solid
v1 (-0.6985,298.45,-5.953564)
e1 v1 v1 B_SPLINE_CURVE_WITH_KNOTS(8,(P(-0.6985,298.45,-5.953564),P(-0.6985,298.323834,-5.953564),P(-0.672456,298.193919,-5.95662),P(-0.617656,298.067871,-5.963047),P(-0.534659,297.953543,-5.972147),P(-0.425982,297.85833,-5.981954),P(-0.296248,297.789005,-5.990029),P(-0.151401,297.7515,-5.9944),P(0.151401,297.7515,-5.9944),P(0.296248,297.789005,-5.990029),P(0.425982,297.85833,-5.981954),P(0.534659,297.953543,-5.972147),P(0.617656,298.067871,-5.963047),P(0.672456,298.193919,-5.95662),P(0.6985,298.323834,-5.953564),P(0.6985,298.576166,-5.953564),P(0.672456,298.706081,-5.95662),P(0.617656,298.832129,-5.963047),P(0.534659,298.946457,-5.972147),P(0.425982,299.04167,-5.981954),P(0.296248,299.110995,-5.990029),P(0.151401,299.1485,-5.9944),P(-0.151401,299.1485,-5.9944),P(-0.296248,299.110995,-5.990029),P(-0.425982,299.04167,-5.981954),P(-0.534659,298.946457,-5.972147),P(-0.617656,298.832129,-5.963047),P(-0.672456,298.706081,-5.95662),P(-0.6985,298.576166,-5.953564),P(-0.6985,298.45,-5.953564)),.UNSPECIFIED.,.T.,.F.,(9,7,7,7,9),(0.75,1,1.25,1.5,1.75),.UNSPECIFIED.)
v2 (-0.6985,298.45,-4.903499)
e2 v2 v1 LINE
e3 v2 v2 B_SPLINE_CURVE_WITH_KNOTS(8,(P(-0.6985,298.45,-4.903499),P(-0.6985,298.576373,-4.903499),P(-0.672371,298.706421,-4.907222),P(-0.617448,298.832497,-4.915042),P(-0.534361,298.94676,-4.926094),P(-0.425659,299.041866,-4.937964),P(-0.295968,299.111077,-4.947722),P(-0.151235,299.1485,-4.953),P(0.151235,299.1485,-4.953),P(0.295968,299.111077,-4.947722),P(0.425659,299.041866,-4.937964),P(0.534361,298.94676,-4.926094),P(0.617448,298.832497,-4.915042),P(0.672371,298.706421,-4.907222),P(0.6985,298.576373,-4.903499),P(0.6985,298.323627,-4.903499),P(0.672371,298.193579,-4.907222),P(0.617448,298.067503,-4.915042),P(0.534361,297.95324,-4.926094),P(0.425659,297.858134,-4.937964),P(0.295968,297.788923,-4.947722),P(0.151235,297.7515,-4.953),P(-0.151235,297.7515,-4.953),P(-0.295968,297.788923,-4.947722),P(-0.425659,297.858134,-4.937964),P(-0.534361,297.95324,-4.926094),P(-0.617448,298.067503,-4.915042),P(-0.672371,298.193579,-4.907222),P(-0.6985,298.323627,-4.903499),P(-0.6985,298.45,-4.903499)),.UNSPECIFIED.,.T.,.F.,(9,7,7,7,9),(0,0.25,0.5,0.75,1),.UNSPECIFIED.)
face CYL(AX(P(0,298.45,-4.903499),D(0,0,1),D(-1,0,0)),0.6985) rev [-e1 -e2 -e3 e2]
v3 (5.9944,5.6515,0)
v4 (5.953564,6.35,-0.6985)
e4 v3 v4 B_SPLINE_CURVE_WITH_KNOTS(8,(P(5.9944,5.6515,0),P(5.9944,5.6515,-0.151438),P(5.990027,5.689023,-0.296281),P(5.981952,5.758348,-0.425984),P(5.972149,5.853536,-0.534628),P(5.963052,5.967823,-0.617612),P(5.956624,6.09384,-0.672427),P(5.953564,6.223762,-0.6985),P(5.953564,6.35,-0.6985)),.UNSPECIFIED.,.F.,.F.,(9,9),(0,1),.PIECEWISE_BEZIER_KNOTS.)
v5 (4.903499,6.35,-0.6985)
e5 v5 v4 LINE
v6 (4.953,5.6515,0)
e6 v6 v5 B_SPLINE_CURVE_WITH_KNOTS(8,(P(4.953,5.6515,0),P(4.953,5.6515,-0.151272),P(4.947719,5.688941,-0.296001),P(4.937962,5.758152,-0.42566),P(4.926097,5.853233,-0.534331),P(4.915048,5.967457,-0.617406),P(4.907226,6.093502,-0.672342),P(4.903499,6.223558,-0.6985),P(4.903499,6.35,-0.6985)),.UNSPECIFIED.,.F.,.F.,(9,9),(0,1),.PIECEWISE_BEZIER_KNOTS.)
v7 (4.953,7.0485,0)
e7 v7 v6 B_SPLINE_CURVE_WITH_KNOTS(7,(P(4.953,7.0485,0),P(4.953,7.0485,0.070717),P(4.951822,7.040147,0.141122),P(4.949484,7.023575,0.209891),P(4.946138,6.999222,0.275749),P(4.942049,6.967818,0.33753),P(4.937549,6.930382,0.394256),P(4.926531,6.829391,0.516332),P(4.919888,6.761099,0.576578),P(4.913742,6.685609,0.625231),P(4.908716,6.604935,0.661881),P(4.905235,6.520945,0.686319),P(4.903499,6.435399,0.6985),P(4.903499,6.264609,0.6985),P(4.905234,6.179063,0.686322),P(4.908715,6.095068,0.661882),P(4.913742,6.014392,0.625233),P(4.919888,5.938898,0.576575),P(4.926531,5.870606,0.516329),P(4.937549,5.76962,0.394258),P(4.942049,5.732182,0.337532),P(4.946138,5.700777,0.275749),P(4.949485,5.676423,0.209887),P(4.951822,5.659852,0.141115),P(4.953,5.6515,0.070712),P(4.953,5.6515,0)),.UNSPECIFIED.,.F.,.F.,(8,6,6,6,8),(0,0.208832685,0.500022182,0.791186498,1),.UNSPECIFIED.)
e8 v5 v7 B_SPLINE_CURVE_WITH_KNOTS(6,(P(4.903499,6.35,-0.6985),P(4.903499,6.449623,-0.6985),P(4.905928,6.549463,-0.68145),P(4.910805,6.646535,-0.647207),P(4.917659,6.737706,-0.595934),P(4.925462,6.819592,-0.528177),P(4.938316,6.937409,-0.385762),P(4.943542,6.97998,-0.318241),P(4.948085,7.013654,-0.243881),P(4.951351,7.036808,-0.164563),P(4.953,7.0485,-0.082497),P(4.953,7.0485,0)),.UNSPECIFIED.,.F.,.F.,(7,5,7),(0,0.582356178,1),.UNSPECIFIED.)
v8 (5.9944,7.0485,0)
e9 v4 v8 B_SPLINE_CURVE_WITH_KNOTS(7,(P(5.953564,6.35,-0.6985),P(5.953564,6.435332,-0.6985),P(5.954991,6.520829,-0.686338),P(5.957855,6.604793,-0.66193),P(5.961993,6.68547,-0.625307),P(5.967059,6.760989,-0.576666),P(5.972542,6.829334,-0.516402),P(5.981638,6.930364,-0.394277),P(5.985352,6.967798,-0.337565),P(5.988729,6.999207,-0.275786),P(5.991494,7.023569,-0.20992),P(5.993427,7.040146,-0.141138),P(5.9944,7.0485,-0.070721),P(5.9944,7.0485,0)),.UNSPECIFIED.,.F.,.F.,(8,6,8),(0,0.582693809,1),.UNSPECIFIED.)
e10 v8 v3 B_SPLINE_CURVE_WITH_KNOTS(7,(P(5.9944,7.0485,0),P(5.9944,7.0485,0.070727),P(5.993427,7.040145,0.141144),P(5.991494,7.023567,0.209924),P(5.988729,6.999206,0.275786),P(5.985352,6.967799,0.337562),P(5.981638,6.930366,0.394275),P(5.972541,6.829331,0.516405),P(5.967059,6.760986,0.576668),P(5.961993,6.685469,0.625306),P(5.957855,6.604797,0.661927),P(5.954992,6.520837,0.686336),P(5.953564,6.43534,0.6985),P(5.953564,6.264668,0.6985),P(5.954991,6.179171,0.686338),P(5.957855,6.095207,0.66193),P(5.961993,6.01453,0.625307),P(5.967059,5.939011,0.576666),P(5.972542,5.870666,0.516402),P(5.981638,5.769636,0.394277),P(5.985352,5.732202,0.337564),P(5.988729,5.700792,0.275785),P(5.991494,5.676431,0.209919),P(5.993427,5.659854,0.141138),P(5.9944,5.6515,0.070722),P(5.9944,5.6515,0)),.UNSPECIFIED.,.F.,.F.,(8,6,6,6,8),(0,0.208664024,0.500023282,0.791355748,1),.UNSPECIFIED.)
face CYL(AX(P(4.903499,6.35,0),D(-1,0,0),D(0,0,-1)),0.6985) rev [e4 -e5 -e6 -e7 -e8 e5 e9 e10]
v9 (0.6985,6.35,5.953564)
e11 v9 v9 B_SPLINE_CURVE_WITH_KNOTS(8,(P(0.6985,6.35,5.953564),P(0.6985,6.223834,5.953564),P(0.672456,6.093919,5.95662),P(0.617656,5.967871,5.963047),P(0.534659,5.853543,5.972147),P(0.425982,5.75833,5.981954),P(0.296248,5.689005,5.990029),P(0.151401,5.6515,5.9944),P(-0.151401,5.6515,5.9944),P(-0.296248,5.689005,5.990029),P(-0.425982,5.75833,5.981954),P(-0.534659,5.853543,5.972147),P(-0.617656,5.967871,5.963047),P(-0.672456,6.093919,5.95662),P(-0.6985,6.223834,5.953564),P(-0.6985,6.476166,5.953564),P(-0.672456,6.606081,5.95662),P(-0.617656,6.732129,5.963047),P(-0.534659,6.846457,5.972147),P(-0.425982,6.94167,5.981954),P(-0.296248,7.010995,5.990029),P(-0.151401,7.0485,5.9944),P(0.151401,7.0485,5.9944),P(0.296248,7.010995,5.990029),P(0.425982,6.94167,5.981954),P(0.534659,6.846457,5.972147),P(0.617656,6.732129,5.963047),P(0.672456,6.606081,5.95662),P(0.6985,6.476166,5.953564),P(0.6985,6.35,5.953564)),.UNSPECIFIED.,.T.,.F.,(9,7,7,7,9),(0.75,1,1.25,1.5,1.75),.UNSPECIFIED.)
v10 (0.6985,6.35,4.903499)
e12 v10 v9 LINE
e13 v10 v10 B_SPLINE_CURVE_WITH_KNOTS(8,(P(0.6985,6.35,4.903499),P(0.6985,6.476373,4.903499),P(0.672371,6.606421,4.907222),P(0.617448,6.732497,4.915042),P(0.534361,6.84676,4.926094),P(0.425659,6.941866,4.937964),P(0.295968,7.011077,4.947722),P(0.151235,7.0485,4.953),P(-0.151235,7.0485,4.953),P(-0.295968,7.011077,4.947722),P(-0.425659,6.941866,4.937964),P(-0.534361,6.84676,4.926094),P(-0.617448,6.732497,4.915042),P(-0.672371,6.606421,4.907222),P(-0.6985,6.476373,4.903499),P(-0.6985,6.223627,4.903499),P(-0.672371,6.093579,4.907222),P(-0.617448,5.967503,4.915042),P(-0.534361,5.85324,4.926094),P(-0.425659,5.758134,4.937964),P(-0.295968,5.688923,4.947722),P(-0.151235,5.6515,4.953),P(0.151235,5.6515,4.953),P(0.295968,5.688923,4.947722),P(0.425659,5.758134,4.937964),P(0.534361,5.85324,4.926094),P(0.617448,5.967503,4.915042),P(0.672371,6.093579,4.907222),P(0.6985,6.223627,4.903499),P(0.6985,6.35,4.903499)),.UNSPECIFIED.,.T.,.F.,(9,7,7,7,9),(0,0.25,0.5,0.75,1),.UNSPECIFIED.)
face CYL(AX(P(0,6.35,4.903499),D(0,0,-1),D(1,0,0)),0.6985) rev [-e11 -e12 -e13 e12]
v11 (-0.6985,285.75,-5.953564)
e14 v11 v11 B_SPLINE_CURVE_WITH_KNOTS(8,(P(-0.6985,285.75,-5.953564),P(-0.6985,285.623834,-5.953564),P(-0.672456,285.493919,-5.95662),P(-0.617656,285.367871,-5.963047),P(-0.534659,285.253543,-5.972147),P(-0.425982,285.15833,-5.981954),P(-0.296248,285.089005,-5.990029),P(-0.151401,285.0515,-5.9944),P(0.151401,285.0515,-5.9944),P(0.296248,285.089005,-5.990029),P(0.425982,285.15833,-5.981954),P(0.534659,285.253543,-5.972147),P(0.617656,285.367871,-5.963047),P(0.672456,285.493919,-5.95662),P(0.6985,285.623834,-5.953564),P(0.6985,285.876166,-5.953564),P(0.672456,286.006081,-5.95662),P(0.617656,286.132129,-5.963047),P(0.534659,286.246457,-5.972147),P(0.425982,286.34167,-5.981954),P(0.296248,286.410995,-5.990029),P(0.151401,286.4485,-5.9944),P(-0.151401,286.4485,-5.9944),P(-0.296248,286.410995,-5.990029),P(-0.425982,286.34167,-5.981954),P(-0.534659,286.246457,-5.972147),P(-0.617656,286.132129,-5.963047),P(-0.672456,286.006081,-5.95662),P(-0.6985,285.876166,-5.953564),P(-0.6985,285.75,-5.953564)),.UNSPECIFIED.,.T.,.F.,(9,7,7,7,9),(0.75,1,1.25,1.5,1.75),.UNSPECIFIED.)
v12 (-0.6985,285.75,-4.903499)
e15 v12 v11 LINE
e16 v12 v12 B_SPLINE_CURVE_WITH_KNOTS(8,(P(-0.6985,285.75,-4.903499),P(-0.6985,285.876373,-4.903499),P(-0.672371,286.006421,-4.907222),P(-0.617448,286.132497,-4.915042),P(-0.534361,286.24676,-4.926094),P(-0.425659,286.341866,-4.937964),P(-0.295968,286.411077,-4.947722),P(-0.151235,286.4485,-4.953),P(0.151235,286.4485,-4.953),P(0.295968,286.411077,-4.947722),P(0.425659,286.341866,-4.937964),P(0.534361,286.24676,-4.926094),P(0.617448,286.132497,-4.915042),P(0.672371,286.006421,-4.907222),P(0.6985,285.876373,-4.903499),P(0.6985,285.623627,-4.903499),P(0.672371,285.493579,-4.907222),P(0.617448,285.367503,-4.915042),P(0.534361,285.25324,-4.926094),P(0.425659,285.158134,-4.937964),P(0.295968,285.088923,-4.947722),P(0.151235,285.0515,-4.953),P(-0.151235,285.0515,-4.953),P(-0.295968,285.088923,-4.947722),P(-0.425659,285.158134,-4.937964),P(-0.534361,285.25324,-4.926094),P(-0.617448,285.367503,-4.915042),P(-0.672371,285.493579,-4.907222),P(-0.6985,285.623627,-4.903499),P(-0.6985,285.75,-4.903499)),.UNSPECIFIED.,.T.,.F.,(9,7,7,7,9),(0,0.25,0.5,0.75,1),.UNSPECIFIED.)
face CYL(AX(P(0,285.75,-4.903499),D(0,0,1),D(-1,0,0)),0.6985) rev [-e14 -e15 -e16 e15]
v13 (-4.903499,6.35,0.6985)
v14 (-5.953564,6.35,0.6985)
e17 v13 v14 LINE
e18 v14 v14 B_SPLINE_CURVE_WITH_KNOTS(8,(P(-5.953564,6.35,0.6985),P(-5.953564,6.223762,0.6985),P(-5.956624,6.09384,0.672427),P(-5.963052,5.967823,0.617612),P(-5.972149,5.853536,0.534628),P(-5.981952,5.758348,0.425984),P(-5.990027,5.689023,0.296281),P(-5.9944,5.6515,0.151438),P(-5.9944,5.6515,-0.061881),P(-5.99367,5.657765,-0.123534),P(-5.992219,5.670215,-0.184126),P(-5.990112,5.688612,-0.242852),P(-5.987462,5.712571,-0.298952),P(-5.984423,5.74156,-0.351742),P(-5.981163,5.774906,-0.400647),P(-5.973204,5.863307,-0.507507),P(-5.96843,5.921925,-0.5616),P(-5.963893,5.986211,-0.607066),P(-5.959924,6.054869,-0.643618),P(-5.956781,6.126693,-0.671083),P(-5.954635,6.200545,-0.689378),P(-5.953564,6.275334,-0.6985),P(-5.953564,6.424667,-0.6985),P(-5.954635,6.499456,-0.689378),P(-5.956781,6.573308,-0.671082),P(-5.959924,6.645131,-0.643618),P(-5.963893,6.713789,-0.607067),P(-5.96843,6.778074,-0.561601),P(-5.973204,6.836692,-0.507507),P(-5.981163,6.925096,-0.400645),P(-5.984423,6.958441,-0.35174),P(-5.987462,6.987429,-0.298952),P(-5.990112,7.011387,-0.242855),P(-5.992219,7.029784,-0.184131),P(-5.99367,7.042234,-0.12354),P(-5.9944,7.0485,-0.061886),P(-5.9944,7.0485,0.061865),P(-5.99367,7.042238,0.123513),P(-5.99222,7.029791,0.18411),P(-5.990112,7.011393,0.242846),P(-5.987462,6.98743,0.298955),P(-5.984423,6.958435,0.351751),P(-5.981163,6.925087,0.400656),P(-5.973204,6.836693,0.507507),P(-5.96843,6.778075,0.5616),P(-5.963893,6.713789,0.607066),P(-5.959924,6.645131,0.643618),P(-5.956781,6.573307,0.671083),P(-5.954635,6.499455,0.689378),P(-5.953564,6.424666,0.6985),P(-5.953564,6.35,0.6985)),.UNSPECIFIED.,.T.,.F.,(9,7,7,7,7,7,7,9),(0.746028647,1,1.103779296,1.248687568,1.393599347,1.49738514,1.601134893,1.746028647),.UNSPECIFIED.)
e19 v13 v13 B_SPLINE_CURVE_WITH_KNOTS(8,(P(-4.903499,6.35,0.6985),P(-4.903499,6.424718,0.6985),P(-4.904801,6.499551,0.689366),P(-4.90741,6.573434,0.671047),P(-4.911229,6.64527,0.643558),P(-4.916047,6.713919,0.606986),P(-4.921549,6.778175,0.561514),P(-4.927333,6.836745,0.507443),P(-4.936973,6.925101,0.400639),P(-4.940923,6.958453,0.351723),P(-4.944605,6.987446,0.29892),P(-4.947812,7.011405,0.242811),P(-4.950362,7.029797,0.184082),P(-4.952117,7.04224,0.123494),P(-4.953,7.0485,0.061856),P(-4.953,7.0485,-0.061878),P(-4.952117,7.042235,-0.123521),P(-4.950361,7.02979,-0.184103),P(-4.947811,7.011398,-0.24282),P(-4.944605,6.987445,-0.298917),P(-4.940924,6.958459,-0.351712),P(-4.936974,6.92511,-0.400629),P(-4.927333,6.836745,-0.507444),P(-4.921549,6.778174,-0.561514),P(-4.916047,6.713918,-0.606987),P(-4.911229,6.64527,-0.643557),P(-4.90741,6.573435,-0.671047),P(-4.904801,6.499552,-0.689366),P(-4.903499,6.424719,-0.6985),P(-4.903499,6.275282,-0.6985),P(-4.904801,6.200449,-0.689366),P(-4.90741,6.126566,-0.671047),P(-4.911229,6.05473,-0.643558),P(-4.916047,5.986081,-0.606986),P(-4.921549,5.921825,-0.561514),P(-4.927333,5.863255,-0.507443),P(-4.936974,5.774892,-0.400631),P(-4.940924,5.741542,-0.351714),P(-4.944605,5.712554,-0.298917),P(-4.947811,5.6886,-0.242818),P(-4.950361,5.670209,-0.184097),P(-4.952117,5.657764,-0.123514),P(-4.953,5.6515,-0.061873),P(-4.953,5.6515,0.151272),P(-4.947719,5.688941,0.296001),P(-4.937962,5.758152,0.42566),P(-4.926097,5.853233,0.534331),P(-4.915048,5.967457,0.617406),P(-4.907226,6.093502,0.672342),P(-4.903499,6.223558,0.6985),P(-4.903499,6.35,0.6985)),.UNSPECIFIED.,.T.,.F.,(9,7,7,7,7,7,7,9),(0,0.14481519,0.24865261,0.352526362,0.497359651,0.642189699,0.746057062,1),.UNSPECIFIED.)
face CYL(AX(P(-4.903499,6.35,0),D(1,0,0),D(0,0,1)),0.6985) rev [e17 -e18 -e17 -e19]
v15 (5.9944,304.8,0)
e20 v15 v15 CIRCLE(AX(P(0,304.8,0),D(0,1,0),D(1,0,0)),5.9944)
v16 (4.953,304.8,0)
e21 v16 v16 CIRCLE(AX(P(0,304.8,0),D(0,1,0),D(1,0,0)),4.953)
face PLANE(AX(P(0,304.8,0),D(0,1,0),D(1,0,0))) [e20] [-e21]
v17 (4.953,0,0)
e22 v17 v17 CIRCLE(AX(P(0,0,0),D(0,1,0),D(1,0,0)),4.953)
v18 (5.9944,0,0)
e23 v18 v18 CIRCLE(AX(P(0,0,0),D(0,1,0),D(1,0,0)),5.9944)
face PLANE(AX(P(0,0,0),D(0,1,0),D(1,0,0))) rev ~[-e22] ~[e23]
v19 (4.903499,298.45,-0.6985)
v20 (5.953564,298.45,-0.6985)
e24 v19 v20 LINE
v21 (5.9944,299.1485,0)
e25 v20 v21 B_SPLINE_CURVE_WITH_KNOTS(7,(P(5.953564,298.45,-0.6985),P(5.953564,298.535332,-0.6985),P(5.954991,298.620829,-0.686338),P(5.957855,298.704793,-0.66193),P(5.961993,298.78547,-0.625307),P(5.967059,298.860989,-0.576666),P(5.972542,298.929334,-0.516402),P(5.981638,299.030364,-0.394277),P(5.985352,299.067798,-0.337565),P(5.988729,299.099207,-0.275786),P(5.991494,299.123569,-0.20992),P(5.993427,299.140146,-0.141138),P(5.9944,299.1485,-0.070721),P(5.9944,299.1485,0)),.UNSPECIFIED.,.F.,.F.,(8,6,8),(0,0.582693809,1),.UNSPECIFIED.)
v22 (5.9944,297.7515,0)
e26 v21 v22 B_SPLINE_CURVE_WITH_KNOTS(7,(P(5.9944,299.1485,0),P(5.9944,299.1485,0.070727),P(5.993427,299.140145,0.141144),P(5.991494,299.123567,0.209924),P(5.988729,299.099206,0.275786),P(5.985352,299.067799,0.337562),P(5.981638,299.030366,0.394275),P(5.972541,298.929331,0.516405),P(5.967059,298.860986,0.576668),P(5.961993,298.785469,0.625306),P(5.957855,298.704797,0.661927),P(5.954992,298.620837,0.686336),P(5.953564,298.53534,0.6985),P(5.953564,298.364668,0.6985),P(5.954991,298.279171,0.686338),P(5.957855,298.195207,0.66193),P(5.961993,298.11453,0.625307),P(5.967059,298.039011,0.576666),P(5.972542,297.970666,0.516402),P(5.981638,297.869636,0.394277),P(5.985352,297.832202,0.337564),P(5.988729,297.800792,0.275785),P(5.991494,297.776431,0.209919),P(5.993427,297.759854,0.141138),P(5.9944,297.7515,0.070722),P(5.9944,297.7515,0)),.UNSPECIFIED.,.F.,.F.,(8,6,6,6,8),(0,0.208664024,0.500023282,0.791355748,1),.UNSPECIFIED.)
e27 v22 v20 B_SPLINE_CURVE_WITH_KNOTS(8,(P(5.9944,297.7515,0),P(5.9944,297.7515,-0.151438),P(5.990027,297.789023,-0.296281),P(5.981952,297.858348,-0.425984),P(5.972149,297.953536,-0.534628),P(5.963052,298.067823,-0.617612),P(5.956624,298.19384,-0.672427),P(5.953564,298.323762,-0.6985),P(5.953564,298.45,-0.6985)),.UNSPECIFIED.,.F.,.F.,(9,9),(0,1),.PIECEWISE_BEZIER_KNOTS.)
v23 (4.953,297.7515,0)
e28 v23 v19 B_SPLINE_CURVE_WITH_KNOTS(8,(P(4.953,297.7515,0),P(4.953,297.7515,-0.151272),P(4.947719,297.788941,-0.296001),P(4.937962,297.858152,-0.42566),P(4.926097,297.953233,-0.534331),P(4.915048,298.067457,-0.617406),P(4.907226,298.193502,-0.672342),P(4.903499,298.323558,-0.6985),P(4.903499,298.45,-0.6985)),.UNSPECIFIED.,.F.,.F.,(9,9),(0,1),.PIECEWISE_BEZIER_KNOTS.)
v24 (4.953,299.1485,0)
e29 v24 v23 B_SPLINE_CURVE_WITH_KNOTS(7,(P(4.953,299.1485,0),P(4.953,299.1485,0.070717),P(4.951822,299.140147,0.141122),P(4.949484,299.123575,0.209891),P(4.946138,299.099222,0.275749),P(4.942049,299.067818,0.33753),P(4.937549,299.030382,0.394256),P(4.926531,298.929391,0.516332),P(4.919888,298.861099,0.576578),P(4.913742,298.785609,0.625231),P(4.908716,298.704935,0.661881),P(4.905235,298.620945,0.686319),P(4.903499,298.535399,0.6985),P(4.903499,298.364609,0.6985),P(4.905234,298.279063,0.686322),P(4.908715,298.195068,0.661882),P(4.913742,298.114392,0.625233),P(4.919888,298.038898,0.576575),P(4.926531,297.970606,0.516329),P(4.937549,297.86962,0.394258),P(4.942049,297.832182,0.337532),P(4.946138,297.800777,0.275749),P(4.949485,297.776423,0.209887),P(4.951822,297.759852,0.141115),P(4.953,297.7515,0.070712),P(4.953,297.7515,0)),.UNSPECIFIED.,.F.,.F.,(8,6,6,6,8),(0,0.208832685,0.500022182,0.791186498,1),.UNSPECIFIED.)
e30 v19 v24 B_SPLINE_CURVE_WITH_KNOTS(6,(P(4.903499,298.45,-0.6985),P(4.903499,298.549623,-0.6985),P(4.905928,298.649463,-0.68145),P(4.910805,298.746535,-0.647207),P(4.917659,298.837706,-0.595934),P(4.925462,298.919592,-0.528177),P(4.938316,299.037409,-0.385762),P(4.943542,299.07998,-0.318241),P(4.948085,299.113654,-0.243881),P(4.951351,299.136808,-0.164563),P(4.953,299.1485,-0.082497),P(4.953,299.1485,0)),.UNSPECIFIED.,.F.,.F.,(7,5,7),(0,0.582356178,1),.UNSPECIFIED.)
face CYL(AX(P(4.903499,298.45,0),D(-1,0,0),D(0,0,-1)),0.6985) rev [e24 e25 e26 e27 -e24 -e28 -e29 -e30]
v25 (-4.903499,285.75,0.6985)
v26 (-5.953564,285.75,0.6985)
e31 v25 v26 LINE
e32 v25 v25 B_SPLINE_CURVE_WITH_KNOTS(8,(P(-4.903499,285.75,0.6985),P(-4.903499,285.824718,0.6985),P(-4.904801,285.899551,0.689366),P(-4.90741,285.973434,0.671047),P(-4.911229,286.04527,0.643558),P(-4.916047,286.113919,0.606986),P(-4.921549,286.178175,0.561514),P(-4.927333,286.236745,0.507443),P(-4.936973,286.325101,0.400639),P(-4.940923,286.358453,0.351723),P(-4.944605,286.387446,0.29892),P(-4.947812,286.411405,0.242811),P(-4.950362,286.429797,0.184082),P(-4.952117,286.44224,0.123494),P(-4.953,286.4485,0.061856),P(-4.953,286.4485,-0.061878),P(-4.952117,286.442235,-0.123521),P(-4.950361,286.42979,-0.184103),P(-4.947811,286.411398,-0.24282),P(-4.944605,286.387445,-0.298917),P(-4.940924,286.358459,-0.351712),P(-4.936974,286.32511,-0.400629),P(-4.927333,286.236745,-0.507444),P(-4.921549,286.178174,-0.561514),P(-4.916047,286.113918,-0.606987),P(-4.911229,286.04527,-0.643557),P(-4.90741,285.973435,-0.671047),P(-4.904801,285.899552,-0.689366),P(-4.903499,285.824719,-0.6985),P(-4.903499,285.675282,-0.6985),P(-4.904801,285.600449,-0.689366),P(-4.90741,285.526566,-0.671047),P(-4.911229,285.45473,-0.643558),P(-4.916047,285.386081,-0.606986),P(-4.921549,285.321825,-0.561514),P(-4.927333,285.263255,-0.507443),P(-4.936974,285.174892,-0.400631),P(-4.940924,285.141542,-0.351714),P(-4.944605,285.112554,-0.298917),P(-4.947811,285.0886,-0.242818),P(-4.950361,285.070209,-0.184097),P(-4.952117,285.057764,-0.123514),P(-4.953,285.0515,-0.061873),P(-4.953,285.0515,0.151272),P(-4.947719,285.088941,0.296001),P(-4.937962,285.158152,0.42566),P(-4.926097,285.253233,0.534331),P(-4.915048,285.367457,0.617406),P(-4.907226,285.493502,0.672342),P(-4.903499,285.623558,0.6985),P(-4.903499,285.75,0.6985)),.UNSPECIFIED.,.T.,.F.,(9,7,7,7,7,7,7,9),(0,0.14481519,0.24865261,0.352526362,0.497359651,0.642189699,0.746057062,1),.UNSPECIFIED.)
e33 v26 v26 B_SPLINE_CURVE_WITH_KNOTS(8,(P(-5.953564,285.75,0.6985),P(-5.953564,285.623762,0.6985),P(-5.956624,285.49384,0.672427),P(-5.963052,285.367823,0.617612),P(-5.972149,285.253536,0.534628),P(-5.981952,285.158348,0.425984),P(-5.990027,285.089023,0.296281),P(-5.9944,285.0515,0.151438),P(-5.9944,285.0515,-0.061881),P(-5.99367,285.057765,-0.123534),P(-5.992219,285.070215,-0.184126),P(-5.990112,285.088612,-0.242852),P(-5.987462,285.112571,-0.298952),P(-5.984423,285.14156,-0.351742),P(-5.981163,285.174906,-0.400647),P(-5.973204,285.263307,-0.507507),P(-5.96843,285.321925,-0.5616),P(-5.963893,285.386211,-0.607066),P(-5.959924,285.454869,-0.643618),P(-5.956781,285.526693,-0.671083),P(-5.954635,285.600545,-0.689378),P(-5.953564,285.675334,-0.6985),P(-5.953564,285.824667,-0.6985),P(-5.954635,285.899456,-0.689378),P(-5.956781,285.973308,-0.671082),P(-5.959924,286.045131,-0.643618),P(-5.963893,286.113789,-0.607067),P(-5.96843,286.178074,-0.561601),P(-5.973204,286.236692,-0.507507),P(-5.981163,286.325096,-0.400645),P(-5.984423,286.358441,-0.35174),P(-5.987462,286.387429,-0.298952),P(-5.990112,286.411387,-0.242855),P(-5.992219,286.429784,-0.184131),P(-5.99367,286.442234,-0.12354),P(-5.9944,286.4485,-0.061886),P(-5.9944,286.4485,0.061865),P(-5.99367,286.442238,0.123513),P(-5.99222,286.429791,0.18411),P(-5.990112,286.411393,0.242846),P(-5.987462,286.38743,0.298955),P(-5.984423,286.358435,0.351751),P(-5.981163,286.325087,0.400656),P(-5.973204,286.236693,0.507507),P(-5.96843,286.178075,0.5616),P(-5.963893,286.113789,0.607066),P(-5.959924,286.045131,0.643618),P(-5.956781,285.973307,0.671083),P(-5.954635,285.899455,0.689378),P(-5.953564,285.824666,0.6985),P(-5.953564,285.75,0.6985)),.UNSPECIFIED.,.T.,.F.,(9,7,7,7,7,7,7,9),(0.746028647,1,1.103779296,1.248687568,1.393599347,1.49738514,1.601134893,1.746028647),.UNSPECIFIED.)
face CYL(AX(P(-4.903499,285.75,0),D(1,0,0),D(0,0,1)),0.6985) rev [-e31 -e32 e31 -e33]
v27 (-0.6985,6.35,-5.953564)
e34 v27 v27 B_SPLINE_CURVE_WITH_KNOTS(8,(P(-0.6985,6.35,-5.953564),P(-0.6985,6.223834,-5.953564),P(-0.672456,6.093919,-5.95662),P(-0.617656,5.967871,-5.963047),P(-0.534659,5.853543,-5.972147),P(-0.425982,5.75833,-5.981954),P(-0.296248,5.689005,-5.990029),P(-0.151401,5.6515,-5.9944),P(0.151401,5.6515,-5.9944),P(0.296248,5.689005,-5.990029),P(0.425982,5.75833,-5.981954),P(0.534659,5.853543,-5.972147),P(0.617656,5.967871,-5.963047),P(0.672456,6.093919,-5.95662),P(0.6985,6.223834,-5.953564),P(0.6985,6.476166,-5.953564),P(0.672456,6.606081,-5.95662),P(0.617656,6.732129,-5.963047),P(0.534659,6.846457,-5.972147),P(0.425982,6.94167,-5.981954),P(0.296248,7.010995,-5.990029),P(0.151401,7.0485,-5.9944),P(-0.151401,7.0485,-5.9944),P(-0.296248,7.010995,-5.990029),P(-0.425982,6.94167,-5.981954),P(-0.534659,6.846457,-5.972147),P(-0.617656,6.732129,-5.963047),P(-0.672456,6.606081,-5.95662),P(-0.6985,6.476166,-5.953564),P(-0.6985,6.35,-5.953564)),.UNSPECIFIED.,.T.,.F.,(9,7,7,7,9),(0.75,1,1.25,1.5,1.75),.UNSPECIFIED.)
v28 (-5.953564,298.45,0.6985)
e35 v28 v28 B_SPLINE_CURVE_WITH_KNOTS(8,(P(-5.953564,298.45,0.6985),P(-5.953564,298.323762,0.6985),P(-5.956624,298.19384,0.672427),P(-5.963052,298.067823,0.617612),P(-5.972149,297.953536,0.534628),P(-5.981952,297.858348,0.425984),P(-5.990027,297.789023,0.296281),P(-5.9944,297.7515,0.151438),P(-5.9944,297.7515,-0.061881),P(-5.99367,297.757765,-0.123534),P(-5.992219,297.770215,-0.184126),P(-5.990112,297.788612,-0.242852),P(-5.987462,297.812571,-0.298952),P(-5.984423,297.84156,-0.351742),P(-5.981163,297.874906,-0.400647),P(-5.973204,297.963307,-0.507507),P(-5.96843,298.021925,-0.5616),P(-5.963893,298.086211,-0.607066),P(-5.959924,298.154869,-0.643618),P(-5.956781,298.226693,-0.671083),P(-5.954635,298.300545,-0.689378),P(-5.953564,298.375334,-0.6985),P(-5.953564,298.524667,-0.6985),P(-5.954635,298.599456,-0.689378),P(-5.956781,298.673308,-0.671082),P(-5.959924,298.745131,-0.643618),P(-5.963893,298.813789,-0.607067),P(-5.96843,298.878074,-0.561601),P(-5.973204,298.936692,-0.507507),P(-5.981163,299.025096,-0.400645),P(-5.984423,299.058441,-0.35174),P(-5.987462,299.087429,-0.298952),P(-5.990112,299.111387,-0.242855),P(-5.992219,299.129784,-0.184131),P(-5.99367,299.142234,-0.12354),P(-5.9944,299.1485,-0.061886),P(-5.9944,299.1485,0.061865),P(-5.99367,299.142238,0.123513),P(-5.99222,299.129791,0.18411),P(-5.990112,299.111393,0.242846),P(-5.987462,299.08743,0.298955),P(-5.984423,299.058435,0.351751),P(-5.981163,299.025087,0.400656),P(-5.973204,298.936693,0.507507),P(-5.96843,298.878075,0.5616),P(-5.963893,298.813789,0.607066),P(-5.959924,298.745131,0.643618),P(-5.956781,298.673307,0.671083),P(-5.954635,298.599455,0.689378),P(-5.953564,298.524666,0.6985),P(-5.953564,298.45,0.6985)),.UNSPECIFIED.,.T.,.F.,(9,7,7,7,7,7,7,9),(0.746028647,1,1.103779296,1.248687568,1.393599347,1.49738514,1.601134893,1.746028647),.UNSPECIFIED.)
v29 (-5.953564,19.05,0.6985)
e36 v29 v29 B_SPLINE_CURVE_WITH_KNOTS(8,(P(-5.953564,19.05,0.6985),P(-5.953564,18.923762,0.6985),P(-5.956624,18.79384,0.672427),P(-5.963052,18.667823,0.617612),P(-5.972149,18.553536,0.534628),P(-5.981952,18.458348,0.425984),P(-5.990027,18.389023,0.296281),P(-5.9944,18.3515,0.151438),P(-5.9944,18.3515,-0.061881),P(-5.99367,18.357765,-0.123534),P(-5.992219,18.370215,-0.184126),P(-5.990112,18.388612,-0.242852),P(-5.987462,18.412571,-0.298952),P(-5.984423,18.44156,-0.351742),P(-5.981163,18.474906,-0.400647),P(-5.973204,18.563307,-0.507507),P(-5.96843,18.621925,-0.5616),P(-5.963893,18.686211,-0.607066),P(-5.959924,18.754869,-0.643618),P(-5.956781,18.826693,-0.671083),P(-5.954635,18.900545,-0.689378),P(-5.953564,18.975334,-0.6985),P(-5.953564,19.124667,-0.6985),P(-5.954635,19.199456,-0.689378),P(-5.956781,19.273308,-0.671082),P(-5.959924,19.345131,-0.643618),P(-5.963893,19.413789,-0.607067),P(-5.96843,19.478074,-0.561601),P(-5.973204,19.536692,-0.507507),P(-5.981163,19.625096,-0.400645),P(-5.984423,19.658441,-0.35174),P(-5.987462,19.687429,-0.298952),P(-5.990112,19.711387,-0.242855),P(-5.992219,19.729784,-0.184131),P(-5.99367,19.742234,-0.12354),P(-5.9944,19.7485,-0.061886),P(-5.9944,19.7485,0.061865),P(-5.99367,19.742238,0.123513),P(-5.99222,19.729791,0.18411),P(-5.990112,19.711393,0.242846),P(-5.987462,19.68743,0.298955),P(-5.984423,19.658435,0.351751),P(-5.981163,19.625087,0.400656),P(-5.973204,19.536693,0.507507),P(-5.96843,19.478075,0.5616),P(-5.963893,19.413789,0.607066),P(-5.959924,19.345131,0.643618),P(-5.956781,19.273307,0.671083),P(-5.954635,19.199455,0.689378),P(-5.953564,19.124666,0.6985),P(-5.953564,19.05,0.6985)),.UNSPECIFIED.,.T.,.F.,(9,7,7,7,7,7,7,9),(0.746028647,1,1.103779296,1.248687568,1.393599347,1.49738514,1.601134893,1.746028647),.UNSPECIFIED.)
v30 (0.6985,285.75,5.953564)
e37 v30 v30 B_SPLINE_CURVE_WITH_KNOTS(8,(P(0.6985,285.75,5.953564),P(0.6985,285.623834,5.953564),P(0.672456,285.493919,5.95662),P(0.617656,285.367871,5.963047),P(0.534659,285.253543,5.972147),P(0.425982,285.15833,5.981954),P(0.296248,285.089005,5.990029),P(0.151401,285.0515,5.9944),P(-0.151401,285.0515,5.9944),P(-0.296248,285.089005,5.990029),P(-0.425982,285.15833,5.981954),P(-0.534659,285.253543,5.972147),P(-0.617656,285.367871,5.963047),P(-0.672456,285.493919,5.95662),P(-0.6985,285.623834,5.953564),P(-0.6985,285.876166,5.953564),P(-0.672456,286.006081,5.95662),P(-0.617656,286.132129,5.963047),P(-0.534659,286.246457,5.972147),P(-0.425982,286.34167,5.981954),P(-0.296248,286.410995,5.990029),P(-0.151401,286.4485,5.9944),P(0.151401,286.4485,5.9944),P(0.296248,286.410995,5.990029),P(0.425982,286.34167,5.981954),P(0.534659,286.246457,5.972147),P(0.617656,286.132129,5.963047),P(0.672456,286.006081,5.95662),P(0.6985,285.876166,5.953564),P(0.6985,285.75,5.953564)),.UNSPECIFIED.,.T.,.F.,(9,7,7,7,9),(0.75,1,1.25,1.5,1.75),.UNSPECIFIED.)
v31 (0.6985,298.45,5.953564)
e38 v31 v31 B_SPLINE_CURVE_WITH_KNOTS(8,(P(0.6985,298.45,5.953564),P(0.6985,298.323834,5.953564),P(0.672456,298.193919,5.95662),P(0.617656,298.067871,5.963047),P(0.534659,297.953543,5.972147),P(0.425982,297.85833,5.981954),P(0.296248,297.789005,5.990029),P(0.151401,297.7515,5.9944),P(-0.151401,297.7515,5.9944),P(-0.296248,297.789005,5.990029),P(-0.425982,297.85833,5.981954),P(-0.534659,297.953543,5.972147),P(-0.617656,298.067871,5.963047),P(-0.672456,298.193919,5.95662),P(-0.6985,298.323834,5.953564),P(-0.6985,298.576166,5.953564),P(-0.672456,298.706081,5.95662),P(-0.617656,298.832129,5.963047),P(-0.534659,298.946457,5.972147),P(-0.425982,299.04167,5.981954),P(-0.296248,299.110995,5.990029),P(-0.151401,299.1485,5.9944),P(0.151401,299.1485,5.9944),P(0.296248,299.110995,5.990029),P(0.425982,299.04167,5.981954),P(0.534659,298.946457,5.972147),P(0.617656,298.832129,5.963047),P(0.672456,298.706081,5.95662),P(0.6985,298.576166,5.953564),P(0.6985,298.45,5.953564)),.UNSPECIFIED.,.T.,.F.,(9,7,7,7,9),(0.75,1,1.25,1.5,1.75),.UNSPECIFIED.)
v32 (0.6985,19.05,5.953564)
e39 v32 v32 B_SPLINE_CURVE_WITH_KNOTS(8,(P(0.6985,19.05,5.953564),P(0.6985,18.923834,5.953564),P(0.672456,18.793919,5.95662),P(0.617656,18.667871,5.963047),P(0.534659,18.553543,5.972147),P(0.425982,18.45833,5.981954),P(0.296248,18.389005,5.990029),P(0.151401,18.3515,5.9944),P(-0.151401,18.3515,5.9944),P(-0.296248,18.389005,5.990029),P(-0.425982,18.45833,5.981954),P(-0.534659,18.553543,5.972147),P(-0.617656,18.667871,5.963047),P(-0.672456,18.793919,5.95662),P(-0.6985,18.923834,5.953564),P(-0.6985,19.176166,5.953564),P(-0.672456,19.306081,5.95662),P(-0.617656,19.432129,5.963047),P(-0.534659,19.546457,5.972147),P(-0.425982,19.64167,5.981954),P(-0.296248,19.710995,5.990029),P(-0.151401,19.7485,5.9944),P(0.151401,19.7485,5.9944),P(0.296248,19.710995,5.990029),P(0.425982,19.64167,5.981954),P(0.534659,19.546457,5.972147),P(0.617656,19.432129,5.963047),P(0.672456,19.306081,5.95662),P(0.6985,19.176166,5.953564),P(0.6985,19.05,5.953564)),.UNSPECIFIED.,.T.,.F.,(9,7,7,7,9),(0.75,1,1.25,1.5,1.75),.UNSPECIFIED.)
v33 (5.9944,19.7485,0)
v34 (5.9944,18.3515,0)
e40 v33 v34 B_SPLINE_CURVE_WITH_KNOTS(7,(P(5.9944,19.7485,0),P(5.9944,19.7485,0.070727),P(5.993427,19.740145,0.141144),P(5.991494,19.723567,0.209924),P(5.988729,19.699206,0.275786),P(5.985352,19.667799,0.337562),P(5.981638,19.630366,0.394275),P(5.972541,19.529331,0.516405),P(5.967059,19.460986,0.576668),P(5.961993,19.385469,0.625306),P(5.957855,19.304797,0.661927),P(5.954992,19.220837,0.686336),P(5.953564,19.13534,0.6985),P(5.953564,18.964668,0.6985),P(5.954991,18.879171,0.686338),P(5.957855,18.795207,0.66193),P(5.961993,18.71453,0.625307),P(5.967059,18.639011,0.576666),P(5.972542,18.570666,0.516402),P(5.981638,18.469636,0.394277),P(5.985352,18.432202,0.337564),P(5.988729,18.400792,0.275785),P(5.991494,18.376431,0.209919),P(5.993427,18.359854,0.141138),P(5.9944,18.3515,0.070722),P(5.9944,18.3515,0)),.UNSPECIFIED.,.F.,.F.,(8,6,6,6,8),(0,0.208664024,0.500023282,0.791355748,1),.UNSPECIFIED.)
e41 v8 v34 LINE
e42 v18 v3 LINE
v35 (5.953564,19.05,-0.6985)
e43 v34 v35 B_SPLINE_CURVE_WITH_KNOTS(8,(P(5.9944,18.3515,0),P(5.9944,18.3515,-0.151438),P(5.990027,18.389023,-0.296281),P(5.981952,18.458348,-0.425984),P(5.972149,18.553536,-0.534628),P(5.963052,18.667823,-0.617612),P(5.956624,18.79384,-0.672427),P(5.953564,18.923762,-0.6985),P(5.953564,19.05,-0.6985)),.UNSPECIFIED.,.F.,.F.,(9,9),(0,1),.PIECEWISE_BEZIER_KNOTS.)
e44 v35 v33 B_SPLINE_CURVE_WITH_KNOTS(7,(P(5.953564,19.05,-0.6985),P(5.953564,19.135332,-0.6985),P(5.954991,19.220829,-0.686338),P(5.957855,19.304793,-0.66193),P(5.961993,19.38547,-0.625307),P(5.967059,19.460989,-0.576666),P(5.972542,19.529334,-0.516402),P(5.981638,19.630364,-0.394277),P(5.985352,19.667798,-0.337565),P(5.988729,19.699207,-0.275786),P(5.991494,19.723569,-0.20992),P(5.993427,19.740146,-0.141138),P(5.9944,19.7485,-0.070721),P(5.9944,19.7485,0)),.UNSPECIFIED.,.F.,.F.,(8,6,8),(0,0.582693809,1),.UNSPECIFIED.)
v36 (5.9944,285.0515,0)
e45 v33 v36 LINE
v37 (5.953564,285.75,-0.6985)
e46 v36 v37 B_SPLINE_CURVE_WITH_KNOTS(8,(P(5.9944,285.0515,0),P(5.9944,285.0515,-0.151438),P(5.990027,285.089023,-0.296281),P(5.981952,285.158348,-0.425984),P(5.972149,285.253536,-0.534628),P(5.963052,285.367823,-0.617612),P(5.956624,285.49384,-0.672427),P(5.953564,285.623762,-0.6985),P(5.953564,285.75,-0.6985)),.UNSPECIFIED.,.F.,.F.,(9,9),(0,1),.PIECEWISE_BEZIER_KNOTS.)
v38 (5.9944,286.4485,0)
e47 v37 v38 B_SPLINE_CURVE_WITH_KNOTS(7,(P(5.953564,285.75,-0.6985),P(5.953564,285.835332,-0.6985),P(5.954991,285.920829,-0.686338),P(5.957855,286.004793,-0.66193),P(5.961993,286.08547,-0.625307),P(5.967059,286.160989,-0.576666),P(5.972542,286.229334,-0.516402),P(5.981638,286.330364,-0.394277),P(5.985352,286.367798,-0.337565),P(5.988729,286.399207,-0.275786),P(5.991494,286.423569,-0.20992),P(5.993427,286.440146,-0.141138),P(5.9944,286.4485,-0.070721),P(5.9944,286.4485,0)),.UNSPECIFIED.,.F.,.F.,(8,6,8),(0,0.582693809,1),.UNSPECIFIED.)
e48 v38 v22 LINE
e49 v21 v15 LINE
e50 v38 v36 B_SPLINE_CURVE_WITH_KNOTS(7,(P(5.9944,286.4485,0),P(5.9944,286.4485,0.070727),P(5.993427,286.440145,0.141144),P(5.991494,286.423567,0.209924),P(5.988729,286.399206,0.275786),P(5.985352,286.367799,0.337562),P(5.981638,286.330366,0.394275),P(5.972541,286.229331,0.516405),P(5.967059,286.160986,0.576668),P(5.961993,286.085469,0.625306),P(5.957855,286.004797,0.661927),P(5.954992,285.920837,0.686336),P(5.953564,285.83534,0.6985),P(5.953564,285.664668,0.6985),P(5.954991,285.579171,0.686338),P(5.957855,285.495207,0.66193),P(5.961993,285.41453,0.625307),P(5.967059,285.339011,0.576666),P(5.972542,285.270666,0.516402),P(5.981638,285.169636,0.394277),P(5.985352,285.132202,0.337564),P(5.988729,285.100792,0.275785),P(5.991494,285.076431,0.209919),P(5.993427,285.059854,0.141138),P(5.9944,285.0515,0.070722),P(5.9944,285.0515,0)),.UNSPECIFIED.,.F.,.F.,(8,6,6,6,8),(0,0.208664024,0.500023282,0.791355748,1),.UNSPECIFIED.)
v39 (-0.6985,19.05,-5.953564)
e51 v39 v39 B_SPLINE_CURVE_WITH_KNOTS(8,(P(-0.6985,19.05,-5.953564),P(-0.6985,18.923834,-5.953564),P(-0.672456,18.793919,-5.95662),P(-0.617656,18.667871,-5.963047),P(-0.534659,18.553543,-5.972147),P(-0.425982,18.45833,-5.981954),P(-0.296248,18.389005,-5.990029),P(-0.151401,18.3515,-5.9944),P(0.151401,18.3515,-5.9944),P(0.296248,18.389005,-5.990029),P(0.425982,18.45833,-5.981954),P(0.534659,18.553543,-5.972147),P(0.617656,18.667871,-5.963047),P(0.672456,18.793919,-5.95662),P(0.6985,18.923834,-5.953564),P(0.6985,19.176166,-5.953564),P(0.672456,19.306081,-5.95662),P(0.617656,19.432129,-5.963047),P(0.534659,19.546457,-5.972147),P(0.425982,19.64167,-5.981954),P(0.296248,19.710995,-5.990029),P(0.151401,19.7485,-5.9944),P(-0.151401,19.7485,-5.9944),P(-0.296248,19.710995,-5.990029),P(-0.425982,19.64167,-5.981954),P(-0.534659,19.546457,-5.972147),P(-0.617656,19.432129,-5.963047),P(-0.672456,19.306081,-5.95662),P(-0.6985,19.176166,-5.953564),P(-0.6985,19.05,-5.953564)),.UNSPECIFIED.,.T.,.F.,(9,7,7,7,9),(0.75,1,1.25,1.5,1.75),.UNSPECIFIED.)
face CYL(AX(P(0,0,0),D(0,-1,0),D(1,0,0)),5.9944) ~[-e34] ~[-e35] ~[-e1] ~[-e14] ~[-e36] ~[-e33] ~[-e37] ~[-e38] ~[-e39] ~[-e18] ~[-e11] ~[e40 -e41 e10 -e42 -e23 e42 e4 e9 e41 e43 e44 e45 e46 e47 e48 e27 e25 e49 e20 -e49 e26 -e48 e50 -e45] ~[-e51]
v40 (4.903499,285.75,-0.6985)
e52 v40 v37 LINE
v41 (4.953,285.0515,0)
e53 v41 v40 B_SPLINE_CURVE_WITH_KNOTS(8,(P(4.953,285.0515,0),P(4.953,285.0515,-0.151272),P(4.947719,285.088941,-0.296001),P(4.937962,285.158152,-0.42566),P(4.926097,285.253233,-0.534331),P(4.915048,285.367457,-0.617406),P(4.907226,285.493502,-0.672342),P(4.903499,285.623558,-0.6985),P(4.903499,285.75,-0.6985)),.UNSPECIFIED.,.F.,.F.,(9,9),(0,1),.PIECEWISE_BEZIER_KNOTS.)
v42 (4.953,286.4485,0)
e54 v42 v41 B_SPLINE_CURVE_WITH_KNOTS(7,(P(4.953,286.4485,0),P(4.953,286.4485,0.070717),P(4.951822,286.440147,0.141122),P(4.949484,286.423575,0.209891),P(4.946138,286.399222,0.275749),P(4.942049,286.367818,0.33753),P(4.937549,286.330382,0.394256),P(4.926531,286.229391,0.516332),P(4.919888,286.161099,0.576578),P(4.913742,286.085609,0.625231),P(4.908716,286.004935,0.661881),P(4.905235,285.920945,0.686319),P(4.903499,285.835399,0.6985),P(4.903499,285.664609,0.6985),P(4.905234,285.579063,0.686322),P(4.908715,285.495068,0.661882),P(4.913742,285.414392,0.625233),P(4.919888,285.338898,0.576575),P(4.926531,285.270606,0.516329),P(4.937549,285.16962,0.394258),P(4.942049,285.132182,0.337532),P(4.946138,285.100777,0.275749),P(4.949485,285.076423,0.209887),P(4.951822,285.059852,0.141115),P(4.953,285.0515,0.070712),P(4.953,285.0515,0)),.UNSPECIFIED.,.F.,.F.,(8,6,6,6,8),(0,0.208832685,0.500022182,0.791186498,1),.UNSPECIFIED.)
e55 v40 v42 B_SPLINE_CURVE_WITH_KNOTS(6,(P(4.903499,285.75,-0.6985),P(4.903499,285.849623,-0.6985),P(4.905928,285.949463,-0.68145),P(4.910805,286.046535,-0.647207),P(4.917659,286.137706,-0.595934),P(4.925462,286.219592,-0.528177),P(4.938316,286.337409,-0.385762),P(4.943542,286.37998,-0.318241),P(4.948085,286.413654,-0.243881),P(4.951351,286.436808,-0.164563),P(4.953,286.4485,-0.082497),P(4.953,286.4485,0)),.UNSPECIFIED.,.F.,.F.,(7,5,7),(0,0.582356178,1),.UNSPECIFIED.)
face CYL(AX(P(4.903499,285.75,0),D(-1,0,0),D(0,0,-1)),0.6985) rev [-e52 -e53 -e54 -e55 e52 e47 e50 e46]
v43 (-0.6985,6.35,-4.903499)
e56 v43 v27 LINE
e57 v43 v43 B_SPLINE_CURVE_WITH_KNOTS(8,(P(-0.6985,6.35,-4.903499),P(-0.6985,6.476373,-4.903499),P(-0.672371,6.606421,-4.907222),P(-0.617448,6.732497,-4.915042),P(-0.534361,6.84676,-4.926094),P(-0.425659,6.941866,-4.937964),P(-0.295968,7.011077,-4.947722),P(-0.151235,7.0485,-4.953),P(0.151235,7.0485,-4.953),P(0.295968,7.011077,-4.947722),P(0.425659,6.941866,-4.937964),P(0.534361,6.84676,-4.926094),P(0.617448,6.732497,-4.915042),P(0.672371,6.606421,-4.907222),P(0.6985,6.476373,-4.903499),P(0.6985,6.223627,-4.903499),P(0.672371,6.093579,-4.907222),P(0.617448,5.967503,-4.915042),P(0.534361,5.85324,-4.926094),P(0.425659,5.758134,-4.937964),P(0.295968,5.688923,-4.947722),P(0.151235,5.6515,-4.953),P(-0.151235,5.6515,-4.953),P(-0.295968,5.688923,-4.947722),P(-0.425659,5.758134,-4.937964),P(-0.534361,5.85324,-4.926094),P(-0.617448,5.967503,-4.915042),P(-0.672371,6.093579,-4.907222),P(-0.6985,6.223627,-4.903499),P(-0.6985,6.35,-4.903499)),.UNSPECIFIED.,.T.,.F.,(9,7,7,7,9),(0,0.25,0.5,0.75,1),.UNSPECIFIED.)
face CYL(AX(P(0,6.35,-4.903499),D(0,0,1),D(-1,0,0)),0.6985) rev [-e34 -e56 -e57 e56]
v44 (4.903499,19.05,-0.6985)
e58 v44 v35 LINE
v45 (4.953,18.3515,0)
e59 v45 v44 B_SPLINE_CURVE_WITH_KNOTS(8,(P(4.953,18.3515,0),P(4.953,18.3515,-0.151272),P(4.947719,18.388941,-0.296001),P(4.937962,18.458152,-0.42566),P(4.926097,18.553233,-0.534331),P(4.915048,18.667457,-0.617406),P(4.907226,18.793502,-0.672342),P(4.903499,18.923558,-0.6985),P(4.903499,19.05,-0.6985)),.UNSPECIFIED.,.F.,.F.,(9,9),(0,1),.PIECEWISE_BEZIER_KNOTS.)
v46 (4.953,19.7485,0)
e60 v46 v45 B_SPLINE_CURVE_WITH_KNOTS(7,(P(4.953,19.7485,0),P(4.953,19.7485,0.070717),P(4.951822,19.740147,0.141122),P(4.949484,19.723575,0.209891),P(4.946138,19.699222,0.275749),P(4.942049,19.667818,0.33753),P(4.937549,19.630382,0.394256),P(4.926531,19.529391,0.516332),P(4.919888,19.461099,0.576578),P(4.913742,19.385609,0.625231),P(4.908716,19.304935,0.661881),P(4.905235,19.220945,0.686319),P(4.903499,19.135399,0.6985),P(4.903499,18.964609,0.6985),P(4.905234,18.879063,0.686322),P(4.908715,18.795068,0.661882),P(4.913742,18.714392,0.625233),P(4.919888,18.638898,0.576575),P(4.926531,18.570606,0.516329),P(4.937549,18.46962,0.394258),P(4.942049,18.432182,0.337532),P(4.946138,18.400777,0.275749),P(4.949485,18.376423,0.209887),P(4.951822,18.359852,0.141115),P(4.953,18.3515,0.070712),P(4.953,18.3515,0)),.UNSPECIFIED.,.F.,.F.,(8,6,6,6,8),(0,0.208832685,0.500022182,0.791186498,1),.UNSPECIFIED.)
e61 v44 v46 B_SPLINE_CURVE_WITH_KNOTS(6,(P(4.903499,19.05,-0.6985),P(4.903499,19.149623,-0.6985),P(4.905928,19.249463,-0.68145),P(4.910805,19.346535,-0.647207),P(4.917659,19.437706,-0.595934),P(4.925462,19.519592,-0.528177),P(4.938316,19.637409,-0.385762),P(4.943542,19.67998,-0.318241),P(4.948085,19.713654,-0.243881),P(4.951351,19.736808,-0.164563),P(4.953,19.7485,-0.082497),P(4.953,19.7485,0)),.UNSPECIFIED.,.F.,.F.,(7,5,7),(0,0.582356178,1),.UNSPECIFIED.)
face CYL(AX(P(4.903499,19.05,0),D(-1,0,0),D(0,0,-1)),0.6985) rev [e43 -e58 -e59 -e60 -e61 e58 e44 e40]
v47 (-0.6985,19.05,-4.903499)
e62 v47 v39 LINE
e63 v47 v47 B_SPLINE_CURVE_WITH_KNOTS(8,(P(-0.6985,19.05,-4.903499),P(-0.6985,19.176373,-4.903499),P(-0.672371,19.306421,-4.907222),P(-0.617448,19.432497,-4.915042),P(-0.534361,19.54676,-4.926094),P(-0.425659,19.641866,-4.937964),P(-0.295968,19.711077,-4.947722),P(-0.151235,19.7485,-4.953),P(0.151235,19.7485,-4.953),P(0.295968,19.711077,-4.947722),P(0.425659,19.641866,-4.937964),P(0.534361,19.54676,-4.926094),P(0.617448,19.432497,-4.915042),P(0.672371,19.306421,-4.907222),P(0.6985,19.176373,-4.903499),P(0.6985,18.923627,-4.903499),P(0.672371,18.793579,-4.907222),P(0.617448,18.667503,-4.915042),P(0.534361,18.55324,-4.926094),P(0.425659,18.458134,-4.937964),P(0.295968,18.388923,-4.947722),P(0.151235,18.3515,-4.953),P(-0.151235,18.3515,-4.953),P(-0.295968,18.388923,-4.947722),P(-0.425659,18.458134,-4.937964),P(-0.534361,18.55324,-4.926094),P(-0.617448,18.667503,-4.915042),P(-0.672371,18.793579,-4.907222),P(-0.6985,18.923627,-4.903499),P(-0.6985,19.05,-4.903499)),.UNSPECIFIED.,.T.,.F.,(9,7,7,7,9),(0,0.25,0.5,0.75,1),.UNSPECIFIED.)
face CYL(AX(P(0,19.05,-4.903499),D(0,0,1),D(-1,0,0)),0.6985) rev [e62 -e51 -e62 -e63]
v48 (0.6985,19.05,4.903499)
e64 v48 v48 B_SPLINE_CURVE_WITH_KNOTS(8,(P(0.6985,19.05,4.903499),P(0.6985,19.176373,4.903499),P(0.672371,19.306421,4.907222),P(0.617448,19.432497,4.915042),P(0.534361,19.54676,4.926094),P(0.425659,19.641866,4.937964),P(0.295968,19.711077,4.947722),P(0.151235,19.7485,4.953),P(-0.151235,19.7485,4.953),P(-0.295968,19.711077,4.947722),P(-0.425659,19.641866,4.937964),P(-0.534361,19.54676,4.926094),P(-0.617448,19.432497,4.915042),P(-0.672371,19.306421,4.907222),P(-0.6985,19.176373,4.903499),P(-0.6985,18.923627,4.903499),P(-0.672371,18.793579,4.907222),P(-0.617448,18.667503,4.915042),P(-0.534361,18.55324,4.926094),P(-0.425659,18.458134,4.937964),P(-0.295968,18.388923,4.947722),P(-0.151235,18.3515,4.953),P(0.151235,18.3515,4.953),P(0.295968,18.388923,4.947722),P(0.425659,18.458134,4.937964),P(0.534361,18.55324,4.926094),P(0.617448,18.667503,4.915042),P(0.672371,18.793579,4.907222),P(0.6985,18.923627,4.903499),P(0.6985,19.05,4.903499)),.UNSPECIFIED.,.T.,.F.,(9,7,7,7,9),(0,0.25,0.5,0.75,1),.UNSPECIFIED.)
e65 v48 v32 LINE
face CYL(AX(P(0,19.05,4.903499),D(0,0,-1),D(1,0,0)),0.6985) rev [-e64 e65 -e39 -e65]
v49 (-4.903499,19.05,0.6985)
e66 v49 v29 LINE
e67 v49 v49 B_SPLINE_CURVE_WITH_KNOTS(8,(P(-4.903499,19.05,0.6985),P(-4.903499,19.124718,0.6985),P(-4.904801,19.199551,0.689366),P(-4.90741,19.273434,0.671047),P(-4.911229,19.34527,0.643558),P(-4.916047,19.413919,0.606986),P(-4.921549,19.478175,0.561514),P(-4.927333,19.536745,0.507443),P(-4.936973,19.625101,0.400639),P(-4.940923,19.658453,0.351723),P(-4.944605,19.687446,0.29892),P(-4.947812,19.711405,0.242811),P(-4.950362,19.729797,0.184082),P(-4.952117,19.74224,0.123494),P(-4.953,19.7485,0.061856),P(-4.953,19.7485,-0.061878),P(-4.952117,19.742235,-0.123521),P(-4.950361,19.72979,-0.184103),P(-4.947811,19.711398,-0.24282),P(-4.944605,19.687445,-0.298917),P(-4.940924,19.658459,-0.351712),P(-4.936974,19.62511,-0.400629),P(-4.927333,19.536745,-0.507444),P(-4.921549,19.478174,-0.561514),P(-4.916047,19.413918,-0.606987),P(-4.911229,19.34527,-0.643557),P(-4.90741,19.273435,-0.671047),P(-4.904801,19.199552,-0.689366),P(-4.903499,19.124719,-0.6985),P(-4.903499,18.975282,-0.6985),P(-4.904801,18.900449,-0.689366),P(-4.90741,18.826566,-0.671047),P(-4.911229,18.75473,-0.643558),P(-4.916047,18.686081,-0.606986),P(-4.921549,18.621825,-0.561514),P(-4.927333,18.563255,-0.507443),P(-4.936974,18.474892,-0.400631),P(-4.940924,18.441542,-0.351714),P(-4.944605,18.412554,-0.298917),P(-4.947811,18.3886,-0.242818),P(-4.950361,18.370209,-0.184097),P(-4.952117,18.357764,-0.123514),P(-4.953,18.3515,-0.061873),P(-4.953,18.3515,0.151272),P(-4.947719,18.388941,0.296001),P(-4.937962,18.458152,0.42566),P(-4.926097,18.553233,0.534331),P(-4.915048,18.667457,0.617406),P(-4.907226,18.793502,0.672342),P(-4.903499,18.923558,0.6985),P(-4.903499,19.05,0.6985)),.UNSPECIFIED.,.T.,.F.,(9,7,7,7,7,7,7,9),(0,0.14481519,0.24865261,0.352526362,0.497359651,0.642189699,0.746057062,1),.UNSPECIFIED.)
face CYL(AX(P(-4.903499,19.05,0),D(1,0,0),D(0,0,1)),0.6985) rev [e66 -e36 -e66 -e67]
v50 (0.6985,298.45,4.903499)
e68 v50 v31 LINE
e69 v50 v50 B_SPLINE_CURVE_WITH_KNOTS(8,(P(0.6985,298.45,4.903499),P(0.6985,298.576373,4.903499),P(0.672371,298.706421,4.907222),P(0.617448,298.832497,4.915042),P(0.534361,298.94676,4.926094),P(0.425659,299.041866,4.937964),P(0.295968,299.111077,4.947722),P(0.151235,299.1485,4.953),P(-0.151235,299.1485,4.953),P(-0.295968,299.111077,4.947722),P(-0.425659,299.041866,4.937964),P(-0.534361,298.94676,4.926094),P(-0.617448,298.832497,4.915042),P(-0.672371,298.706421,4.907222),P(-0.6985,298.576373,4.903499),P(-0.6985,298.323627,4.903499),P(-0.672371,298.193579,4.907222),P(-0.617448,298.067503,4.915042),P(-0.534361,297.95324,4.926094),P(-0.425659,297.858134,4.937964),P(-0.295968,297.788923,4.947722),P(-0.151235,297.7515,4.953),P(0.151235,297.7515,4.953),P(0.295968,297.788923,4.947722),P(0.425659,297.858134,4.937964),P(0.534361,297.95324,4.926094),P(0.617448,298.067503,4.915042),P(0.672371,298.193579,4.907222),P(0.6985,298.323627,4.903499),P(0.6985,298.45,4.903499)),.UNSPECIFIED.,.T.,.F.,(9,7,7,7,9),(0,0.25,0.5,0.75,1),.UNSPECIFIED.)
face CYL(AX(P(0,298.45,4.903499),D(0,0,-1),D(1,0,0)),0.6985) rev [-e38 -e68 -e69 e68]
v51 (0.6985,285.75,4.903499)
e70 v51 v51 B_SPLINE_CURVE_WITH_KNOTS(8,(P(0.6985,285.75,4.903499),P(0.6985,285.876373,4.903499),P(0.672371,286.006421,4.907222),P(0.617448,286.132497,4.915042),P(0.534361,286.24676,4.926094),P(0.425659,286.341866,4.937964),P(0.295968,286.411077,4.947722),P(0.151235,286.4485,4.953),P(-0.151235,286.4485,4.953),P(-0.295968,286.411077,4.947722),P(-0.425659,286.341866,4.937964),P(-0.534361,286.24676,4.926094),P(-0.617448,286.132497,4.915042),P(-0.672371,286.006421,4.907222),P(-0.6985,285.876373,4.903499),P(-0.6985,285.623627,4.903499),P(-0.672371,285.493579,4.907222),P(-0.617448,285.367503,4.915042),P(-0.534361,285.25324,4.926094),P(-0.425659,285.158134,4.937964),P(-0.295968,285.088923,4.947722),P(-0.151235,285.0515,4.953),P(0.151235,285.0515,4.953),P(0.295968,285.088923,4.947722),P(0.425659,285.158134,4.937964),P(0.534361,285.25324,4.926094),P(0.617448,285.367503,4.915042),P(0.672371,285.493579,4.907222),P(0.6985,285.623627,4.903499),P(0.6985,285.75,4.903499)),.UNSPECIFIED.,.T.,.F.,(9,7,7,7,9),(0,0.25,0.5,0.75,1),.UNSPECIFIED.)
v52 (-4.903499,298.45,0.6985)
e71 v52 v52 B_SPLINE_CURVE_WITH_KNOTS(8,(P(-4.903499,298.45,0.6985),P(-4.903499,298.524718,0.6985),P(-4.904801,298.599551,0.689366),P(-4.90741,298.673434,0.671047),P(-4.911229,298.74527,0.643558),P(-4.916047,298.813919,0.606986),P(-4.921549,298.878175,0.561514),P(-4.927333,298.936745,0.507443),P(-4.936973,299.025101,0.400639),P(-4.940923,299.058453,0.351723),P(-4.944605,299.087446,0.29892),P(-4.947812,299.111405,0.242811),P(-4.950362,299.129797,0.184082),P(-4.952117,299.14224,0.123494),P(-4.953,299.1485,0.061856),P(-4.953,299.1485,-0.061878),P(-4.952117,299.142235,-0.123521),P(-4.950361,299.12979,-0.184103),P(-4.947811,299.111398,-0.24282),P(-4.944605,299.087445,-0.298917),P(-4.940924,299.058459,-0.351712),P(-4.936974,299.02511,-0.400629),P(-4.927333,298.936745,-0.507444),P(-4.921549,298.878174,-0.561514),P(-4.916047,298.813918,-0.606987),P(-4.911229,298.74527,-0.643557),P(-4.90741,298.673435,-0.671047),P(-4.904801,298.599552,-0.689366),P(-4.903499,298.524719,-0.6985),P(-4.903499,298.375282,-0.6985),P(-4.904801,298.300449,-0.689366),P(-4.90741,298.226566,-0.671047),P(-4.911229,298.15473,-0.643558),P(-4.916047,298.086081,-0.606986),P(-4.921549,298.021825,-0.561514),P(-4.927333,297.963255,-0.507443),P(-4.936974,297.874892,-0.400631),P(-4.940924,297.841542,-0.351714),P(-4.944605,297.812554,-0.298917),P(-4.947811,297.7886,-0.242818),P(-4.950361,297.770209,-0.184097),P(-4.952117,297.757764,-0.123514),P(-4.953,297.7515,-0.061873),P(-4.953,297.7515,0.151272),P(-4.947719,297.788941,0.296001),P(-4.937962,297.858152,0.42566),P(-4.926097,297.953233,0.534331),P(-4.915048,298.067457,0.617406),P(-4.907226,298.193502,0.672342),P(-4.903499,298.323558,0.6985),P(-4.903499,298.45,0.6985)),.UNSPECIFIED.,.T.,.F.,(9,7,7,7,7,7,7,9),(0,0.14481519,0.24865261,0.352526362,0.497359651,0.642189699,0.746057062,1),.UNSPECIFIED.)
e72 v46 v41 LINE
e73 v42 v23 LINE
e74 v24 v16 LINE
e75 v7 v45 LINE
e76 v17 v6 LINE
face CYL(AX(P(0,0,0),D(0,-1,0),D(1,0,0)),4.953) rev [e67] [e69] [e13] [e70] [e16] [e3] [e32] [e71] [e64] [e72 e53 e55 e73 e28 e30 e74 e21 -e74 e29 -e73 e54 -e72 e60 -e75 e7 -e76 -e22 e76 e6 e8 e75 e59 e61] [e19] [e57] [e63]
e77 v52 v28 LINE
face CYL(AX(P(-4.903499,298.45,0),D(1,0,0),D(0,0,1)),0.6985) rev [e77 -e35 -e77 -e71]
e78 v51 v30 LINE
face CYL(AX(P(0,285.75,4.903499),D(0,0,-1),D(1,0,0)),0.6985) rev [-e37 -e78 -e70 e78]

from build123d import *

# Parameters (mm, degrees)
SKETCH1_R           = 5.9944
SKETCH1_R_2         = 4.953
BOSS_EXTRUDE1_DEPTH = 304.8
CUT_EXTRUDE1_START  = -1.090901
SKETCH2_R           = 0.6985
CUT_EXTRUDE1_DEPTH  = 1.090901
CIRPATTERN1_COUNT   = 4


with BuildPart() as part:
    # Sketch1 → Boss-Extrude1 (new body)
    with BuildSketch(Plane(origin=(0, 0, 0), x_dir=(1, 0, 0), z_dir=(0, 1, 0))):
        Circle(SKETCH1_R)
        Circle(SKETCH1_R_2, mode=Mode.SUBTRACT)
    extrude(amount=BOSS_EXTRUDE1_DEPTH)

    # Sketch2 → Cut-Extrude1 (cut)
    with BuildSketch(Plane.XY.offset(5.9944).offset(CUT_EXTRUDE1_START)):
        with Locations((0, 6.35)):
            Circle(SKETCH2_R)
        with Locations((0, 19.05)):
            Circle(SKETCH2_R)
        with Locations((0, 298.45)):
            Circle(SKETCH2_R)
        with Locations((0, 285.75)):
            Circle(SKETCH2_R)
    cut_extrude1 = extrude(amount=CUT_EXTRUDE1_DEPTH, mode=Mode.SUBTRACT)

    # CirPattern1: Cut-Extrude1 ×4 about axis
    cirpattern1_axis = Axis((0, 304.8, 0), (0, 1, 0))
    for i in range(1, CIRPATTERN1_COUNT):
        add(cut_extrude1.rotate(cirpattern1_axis, i * 360 / CIRPATTERN1_COUNT), mode=Mode.SUBTRACT)


solid = part.part
